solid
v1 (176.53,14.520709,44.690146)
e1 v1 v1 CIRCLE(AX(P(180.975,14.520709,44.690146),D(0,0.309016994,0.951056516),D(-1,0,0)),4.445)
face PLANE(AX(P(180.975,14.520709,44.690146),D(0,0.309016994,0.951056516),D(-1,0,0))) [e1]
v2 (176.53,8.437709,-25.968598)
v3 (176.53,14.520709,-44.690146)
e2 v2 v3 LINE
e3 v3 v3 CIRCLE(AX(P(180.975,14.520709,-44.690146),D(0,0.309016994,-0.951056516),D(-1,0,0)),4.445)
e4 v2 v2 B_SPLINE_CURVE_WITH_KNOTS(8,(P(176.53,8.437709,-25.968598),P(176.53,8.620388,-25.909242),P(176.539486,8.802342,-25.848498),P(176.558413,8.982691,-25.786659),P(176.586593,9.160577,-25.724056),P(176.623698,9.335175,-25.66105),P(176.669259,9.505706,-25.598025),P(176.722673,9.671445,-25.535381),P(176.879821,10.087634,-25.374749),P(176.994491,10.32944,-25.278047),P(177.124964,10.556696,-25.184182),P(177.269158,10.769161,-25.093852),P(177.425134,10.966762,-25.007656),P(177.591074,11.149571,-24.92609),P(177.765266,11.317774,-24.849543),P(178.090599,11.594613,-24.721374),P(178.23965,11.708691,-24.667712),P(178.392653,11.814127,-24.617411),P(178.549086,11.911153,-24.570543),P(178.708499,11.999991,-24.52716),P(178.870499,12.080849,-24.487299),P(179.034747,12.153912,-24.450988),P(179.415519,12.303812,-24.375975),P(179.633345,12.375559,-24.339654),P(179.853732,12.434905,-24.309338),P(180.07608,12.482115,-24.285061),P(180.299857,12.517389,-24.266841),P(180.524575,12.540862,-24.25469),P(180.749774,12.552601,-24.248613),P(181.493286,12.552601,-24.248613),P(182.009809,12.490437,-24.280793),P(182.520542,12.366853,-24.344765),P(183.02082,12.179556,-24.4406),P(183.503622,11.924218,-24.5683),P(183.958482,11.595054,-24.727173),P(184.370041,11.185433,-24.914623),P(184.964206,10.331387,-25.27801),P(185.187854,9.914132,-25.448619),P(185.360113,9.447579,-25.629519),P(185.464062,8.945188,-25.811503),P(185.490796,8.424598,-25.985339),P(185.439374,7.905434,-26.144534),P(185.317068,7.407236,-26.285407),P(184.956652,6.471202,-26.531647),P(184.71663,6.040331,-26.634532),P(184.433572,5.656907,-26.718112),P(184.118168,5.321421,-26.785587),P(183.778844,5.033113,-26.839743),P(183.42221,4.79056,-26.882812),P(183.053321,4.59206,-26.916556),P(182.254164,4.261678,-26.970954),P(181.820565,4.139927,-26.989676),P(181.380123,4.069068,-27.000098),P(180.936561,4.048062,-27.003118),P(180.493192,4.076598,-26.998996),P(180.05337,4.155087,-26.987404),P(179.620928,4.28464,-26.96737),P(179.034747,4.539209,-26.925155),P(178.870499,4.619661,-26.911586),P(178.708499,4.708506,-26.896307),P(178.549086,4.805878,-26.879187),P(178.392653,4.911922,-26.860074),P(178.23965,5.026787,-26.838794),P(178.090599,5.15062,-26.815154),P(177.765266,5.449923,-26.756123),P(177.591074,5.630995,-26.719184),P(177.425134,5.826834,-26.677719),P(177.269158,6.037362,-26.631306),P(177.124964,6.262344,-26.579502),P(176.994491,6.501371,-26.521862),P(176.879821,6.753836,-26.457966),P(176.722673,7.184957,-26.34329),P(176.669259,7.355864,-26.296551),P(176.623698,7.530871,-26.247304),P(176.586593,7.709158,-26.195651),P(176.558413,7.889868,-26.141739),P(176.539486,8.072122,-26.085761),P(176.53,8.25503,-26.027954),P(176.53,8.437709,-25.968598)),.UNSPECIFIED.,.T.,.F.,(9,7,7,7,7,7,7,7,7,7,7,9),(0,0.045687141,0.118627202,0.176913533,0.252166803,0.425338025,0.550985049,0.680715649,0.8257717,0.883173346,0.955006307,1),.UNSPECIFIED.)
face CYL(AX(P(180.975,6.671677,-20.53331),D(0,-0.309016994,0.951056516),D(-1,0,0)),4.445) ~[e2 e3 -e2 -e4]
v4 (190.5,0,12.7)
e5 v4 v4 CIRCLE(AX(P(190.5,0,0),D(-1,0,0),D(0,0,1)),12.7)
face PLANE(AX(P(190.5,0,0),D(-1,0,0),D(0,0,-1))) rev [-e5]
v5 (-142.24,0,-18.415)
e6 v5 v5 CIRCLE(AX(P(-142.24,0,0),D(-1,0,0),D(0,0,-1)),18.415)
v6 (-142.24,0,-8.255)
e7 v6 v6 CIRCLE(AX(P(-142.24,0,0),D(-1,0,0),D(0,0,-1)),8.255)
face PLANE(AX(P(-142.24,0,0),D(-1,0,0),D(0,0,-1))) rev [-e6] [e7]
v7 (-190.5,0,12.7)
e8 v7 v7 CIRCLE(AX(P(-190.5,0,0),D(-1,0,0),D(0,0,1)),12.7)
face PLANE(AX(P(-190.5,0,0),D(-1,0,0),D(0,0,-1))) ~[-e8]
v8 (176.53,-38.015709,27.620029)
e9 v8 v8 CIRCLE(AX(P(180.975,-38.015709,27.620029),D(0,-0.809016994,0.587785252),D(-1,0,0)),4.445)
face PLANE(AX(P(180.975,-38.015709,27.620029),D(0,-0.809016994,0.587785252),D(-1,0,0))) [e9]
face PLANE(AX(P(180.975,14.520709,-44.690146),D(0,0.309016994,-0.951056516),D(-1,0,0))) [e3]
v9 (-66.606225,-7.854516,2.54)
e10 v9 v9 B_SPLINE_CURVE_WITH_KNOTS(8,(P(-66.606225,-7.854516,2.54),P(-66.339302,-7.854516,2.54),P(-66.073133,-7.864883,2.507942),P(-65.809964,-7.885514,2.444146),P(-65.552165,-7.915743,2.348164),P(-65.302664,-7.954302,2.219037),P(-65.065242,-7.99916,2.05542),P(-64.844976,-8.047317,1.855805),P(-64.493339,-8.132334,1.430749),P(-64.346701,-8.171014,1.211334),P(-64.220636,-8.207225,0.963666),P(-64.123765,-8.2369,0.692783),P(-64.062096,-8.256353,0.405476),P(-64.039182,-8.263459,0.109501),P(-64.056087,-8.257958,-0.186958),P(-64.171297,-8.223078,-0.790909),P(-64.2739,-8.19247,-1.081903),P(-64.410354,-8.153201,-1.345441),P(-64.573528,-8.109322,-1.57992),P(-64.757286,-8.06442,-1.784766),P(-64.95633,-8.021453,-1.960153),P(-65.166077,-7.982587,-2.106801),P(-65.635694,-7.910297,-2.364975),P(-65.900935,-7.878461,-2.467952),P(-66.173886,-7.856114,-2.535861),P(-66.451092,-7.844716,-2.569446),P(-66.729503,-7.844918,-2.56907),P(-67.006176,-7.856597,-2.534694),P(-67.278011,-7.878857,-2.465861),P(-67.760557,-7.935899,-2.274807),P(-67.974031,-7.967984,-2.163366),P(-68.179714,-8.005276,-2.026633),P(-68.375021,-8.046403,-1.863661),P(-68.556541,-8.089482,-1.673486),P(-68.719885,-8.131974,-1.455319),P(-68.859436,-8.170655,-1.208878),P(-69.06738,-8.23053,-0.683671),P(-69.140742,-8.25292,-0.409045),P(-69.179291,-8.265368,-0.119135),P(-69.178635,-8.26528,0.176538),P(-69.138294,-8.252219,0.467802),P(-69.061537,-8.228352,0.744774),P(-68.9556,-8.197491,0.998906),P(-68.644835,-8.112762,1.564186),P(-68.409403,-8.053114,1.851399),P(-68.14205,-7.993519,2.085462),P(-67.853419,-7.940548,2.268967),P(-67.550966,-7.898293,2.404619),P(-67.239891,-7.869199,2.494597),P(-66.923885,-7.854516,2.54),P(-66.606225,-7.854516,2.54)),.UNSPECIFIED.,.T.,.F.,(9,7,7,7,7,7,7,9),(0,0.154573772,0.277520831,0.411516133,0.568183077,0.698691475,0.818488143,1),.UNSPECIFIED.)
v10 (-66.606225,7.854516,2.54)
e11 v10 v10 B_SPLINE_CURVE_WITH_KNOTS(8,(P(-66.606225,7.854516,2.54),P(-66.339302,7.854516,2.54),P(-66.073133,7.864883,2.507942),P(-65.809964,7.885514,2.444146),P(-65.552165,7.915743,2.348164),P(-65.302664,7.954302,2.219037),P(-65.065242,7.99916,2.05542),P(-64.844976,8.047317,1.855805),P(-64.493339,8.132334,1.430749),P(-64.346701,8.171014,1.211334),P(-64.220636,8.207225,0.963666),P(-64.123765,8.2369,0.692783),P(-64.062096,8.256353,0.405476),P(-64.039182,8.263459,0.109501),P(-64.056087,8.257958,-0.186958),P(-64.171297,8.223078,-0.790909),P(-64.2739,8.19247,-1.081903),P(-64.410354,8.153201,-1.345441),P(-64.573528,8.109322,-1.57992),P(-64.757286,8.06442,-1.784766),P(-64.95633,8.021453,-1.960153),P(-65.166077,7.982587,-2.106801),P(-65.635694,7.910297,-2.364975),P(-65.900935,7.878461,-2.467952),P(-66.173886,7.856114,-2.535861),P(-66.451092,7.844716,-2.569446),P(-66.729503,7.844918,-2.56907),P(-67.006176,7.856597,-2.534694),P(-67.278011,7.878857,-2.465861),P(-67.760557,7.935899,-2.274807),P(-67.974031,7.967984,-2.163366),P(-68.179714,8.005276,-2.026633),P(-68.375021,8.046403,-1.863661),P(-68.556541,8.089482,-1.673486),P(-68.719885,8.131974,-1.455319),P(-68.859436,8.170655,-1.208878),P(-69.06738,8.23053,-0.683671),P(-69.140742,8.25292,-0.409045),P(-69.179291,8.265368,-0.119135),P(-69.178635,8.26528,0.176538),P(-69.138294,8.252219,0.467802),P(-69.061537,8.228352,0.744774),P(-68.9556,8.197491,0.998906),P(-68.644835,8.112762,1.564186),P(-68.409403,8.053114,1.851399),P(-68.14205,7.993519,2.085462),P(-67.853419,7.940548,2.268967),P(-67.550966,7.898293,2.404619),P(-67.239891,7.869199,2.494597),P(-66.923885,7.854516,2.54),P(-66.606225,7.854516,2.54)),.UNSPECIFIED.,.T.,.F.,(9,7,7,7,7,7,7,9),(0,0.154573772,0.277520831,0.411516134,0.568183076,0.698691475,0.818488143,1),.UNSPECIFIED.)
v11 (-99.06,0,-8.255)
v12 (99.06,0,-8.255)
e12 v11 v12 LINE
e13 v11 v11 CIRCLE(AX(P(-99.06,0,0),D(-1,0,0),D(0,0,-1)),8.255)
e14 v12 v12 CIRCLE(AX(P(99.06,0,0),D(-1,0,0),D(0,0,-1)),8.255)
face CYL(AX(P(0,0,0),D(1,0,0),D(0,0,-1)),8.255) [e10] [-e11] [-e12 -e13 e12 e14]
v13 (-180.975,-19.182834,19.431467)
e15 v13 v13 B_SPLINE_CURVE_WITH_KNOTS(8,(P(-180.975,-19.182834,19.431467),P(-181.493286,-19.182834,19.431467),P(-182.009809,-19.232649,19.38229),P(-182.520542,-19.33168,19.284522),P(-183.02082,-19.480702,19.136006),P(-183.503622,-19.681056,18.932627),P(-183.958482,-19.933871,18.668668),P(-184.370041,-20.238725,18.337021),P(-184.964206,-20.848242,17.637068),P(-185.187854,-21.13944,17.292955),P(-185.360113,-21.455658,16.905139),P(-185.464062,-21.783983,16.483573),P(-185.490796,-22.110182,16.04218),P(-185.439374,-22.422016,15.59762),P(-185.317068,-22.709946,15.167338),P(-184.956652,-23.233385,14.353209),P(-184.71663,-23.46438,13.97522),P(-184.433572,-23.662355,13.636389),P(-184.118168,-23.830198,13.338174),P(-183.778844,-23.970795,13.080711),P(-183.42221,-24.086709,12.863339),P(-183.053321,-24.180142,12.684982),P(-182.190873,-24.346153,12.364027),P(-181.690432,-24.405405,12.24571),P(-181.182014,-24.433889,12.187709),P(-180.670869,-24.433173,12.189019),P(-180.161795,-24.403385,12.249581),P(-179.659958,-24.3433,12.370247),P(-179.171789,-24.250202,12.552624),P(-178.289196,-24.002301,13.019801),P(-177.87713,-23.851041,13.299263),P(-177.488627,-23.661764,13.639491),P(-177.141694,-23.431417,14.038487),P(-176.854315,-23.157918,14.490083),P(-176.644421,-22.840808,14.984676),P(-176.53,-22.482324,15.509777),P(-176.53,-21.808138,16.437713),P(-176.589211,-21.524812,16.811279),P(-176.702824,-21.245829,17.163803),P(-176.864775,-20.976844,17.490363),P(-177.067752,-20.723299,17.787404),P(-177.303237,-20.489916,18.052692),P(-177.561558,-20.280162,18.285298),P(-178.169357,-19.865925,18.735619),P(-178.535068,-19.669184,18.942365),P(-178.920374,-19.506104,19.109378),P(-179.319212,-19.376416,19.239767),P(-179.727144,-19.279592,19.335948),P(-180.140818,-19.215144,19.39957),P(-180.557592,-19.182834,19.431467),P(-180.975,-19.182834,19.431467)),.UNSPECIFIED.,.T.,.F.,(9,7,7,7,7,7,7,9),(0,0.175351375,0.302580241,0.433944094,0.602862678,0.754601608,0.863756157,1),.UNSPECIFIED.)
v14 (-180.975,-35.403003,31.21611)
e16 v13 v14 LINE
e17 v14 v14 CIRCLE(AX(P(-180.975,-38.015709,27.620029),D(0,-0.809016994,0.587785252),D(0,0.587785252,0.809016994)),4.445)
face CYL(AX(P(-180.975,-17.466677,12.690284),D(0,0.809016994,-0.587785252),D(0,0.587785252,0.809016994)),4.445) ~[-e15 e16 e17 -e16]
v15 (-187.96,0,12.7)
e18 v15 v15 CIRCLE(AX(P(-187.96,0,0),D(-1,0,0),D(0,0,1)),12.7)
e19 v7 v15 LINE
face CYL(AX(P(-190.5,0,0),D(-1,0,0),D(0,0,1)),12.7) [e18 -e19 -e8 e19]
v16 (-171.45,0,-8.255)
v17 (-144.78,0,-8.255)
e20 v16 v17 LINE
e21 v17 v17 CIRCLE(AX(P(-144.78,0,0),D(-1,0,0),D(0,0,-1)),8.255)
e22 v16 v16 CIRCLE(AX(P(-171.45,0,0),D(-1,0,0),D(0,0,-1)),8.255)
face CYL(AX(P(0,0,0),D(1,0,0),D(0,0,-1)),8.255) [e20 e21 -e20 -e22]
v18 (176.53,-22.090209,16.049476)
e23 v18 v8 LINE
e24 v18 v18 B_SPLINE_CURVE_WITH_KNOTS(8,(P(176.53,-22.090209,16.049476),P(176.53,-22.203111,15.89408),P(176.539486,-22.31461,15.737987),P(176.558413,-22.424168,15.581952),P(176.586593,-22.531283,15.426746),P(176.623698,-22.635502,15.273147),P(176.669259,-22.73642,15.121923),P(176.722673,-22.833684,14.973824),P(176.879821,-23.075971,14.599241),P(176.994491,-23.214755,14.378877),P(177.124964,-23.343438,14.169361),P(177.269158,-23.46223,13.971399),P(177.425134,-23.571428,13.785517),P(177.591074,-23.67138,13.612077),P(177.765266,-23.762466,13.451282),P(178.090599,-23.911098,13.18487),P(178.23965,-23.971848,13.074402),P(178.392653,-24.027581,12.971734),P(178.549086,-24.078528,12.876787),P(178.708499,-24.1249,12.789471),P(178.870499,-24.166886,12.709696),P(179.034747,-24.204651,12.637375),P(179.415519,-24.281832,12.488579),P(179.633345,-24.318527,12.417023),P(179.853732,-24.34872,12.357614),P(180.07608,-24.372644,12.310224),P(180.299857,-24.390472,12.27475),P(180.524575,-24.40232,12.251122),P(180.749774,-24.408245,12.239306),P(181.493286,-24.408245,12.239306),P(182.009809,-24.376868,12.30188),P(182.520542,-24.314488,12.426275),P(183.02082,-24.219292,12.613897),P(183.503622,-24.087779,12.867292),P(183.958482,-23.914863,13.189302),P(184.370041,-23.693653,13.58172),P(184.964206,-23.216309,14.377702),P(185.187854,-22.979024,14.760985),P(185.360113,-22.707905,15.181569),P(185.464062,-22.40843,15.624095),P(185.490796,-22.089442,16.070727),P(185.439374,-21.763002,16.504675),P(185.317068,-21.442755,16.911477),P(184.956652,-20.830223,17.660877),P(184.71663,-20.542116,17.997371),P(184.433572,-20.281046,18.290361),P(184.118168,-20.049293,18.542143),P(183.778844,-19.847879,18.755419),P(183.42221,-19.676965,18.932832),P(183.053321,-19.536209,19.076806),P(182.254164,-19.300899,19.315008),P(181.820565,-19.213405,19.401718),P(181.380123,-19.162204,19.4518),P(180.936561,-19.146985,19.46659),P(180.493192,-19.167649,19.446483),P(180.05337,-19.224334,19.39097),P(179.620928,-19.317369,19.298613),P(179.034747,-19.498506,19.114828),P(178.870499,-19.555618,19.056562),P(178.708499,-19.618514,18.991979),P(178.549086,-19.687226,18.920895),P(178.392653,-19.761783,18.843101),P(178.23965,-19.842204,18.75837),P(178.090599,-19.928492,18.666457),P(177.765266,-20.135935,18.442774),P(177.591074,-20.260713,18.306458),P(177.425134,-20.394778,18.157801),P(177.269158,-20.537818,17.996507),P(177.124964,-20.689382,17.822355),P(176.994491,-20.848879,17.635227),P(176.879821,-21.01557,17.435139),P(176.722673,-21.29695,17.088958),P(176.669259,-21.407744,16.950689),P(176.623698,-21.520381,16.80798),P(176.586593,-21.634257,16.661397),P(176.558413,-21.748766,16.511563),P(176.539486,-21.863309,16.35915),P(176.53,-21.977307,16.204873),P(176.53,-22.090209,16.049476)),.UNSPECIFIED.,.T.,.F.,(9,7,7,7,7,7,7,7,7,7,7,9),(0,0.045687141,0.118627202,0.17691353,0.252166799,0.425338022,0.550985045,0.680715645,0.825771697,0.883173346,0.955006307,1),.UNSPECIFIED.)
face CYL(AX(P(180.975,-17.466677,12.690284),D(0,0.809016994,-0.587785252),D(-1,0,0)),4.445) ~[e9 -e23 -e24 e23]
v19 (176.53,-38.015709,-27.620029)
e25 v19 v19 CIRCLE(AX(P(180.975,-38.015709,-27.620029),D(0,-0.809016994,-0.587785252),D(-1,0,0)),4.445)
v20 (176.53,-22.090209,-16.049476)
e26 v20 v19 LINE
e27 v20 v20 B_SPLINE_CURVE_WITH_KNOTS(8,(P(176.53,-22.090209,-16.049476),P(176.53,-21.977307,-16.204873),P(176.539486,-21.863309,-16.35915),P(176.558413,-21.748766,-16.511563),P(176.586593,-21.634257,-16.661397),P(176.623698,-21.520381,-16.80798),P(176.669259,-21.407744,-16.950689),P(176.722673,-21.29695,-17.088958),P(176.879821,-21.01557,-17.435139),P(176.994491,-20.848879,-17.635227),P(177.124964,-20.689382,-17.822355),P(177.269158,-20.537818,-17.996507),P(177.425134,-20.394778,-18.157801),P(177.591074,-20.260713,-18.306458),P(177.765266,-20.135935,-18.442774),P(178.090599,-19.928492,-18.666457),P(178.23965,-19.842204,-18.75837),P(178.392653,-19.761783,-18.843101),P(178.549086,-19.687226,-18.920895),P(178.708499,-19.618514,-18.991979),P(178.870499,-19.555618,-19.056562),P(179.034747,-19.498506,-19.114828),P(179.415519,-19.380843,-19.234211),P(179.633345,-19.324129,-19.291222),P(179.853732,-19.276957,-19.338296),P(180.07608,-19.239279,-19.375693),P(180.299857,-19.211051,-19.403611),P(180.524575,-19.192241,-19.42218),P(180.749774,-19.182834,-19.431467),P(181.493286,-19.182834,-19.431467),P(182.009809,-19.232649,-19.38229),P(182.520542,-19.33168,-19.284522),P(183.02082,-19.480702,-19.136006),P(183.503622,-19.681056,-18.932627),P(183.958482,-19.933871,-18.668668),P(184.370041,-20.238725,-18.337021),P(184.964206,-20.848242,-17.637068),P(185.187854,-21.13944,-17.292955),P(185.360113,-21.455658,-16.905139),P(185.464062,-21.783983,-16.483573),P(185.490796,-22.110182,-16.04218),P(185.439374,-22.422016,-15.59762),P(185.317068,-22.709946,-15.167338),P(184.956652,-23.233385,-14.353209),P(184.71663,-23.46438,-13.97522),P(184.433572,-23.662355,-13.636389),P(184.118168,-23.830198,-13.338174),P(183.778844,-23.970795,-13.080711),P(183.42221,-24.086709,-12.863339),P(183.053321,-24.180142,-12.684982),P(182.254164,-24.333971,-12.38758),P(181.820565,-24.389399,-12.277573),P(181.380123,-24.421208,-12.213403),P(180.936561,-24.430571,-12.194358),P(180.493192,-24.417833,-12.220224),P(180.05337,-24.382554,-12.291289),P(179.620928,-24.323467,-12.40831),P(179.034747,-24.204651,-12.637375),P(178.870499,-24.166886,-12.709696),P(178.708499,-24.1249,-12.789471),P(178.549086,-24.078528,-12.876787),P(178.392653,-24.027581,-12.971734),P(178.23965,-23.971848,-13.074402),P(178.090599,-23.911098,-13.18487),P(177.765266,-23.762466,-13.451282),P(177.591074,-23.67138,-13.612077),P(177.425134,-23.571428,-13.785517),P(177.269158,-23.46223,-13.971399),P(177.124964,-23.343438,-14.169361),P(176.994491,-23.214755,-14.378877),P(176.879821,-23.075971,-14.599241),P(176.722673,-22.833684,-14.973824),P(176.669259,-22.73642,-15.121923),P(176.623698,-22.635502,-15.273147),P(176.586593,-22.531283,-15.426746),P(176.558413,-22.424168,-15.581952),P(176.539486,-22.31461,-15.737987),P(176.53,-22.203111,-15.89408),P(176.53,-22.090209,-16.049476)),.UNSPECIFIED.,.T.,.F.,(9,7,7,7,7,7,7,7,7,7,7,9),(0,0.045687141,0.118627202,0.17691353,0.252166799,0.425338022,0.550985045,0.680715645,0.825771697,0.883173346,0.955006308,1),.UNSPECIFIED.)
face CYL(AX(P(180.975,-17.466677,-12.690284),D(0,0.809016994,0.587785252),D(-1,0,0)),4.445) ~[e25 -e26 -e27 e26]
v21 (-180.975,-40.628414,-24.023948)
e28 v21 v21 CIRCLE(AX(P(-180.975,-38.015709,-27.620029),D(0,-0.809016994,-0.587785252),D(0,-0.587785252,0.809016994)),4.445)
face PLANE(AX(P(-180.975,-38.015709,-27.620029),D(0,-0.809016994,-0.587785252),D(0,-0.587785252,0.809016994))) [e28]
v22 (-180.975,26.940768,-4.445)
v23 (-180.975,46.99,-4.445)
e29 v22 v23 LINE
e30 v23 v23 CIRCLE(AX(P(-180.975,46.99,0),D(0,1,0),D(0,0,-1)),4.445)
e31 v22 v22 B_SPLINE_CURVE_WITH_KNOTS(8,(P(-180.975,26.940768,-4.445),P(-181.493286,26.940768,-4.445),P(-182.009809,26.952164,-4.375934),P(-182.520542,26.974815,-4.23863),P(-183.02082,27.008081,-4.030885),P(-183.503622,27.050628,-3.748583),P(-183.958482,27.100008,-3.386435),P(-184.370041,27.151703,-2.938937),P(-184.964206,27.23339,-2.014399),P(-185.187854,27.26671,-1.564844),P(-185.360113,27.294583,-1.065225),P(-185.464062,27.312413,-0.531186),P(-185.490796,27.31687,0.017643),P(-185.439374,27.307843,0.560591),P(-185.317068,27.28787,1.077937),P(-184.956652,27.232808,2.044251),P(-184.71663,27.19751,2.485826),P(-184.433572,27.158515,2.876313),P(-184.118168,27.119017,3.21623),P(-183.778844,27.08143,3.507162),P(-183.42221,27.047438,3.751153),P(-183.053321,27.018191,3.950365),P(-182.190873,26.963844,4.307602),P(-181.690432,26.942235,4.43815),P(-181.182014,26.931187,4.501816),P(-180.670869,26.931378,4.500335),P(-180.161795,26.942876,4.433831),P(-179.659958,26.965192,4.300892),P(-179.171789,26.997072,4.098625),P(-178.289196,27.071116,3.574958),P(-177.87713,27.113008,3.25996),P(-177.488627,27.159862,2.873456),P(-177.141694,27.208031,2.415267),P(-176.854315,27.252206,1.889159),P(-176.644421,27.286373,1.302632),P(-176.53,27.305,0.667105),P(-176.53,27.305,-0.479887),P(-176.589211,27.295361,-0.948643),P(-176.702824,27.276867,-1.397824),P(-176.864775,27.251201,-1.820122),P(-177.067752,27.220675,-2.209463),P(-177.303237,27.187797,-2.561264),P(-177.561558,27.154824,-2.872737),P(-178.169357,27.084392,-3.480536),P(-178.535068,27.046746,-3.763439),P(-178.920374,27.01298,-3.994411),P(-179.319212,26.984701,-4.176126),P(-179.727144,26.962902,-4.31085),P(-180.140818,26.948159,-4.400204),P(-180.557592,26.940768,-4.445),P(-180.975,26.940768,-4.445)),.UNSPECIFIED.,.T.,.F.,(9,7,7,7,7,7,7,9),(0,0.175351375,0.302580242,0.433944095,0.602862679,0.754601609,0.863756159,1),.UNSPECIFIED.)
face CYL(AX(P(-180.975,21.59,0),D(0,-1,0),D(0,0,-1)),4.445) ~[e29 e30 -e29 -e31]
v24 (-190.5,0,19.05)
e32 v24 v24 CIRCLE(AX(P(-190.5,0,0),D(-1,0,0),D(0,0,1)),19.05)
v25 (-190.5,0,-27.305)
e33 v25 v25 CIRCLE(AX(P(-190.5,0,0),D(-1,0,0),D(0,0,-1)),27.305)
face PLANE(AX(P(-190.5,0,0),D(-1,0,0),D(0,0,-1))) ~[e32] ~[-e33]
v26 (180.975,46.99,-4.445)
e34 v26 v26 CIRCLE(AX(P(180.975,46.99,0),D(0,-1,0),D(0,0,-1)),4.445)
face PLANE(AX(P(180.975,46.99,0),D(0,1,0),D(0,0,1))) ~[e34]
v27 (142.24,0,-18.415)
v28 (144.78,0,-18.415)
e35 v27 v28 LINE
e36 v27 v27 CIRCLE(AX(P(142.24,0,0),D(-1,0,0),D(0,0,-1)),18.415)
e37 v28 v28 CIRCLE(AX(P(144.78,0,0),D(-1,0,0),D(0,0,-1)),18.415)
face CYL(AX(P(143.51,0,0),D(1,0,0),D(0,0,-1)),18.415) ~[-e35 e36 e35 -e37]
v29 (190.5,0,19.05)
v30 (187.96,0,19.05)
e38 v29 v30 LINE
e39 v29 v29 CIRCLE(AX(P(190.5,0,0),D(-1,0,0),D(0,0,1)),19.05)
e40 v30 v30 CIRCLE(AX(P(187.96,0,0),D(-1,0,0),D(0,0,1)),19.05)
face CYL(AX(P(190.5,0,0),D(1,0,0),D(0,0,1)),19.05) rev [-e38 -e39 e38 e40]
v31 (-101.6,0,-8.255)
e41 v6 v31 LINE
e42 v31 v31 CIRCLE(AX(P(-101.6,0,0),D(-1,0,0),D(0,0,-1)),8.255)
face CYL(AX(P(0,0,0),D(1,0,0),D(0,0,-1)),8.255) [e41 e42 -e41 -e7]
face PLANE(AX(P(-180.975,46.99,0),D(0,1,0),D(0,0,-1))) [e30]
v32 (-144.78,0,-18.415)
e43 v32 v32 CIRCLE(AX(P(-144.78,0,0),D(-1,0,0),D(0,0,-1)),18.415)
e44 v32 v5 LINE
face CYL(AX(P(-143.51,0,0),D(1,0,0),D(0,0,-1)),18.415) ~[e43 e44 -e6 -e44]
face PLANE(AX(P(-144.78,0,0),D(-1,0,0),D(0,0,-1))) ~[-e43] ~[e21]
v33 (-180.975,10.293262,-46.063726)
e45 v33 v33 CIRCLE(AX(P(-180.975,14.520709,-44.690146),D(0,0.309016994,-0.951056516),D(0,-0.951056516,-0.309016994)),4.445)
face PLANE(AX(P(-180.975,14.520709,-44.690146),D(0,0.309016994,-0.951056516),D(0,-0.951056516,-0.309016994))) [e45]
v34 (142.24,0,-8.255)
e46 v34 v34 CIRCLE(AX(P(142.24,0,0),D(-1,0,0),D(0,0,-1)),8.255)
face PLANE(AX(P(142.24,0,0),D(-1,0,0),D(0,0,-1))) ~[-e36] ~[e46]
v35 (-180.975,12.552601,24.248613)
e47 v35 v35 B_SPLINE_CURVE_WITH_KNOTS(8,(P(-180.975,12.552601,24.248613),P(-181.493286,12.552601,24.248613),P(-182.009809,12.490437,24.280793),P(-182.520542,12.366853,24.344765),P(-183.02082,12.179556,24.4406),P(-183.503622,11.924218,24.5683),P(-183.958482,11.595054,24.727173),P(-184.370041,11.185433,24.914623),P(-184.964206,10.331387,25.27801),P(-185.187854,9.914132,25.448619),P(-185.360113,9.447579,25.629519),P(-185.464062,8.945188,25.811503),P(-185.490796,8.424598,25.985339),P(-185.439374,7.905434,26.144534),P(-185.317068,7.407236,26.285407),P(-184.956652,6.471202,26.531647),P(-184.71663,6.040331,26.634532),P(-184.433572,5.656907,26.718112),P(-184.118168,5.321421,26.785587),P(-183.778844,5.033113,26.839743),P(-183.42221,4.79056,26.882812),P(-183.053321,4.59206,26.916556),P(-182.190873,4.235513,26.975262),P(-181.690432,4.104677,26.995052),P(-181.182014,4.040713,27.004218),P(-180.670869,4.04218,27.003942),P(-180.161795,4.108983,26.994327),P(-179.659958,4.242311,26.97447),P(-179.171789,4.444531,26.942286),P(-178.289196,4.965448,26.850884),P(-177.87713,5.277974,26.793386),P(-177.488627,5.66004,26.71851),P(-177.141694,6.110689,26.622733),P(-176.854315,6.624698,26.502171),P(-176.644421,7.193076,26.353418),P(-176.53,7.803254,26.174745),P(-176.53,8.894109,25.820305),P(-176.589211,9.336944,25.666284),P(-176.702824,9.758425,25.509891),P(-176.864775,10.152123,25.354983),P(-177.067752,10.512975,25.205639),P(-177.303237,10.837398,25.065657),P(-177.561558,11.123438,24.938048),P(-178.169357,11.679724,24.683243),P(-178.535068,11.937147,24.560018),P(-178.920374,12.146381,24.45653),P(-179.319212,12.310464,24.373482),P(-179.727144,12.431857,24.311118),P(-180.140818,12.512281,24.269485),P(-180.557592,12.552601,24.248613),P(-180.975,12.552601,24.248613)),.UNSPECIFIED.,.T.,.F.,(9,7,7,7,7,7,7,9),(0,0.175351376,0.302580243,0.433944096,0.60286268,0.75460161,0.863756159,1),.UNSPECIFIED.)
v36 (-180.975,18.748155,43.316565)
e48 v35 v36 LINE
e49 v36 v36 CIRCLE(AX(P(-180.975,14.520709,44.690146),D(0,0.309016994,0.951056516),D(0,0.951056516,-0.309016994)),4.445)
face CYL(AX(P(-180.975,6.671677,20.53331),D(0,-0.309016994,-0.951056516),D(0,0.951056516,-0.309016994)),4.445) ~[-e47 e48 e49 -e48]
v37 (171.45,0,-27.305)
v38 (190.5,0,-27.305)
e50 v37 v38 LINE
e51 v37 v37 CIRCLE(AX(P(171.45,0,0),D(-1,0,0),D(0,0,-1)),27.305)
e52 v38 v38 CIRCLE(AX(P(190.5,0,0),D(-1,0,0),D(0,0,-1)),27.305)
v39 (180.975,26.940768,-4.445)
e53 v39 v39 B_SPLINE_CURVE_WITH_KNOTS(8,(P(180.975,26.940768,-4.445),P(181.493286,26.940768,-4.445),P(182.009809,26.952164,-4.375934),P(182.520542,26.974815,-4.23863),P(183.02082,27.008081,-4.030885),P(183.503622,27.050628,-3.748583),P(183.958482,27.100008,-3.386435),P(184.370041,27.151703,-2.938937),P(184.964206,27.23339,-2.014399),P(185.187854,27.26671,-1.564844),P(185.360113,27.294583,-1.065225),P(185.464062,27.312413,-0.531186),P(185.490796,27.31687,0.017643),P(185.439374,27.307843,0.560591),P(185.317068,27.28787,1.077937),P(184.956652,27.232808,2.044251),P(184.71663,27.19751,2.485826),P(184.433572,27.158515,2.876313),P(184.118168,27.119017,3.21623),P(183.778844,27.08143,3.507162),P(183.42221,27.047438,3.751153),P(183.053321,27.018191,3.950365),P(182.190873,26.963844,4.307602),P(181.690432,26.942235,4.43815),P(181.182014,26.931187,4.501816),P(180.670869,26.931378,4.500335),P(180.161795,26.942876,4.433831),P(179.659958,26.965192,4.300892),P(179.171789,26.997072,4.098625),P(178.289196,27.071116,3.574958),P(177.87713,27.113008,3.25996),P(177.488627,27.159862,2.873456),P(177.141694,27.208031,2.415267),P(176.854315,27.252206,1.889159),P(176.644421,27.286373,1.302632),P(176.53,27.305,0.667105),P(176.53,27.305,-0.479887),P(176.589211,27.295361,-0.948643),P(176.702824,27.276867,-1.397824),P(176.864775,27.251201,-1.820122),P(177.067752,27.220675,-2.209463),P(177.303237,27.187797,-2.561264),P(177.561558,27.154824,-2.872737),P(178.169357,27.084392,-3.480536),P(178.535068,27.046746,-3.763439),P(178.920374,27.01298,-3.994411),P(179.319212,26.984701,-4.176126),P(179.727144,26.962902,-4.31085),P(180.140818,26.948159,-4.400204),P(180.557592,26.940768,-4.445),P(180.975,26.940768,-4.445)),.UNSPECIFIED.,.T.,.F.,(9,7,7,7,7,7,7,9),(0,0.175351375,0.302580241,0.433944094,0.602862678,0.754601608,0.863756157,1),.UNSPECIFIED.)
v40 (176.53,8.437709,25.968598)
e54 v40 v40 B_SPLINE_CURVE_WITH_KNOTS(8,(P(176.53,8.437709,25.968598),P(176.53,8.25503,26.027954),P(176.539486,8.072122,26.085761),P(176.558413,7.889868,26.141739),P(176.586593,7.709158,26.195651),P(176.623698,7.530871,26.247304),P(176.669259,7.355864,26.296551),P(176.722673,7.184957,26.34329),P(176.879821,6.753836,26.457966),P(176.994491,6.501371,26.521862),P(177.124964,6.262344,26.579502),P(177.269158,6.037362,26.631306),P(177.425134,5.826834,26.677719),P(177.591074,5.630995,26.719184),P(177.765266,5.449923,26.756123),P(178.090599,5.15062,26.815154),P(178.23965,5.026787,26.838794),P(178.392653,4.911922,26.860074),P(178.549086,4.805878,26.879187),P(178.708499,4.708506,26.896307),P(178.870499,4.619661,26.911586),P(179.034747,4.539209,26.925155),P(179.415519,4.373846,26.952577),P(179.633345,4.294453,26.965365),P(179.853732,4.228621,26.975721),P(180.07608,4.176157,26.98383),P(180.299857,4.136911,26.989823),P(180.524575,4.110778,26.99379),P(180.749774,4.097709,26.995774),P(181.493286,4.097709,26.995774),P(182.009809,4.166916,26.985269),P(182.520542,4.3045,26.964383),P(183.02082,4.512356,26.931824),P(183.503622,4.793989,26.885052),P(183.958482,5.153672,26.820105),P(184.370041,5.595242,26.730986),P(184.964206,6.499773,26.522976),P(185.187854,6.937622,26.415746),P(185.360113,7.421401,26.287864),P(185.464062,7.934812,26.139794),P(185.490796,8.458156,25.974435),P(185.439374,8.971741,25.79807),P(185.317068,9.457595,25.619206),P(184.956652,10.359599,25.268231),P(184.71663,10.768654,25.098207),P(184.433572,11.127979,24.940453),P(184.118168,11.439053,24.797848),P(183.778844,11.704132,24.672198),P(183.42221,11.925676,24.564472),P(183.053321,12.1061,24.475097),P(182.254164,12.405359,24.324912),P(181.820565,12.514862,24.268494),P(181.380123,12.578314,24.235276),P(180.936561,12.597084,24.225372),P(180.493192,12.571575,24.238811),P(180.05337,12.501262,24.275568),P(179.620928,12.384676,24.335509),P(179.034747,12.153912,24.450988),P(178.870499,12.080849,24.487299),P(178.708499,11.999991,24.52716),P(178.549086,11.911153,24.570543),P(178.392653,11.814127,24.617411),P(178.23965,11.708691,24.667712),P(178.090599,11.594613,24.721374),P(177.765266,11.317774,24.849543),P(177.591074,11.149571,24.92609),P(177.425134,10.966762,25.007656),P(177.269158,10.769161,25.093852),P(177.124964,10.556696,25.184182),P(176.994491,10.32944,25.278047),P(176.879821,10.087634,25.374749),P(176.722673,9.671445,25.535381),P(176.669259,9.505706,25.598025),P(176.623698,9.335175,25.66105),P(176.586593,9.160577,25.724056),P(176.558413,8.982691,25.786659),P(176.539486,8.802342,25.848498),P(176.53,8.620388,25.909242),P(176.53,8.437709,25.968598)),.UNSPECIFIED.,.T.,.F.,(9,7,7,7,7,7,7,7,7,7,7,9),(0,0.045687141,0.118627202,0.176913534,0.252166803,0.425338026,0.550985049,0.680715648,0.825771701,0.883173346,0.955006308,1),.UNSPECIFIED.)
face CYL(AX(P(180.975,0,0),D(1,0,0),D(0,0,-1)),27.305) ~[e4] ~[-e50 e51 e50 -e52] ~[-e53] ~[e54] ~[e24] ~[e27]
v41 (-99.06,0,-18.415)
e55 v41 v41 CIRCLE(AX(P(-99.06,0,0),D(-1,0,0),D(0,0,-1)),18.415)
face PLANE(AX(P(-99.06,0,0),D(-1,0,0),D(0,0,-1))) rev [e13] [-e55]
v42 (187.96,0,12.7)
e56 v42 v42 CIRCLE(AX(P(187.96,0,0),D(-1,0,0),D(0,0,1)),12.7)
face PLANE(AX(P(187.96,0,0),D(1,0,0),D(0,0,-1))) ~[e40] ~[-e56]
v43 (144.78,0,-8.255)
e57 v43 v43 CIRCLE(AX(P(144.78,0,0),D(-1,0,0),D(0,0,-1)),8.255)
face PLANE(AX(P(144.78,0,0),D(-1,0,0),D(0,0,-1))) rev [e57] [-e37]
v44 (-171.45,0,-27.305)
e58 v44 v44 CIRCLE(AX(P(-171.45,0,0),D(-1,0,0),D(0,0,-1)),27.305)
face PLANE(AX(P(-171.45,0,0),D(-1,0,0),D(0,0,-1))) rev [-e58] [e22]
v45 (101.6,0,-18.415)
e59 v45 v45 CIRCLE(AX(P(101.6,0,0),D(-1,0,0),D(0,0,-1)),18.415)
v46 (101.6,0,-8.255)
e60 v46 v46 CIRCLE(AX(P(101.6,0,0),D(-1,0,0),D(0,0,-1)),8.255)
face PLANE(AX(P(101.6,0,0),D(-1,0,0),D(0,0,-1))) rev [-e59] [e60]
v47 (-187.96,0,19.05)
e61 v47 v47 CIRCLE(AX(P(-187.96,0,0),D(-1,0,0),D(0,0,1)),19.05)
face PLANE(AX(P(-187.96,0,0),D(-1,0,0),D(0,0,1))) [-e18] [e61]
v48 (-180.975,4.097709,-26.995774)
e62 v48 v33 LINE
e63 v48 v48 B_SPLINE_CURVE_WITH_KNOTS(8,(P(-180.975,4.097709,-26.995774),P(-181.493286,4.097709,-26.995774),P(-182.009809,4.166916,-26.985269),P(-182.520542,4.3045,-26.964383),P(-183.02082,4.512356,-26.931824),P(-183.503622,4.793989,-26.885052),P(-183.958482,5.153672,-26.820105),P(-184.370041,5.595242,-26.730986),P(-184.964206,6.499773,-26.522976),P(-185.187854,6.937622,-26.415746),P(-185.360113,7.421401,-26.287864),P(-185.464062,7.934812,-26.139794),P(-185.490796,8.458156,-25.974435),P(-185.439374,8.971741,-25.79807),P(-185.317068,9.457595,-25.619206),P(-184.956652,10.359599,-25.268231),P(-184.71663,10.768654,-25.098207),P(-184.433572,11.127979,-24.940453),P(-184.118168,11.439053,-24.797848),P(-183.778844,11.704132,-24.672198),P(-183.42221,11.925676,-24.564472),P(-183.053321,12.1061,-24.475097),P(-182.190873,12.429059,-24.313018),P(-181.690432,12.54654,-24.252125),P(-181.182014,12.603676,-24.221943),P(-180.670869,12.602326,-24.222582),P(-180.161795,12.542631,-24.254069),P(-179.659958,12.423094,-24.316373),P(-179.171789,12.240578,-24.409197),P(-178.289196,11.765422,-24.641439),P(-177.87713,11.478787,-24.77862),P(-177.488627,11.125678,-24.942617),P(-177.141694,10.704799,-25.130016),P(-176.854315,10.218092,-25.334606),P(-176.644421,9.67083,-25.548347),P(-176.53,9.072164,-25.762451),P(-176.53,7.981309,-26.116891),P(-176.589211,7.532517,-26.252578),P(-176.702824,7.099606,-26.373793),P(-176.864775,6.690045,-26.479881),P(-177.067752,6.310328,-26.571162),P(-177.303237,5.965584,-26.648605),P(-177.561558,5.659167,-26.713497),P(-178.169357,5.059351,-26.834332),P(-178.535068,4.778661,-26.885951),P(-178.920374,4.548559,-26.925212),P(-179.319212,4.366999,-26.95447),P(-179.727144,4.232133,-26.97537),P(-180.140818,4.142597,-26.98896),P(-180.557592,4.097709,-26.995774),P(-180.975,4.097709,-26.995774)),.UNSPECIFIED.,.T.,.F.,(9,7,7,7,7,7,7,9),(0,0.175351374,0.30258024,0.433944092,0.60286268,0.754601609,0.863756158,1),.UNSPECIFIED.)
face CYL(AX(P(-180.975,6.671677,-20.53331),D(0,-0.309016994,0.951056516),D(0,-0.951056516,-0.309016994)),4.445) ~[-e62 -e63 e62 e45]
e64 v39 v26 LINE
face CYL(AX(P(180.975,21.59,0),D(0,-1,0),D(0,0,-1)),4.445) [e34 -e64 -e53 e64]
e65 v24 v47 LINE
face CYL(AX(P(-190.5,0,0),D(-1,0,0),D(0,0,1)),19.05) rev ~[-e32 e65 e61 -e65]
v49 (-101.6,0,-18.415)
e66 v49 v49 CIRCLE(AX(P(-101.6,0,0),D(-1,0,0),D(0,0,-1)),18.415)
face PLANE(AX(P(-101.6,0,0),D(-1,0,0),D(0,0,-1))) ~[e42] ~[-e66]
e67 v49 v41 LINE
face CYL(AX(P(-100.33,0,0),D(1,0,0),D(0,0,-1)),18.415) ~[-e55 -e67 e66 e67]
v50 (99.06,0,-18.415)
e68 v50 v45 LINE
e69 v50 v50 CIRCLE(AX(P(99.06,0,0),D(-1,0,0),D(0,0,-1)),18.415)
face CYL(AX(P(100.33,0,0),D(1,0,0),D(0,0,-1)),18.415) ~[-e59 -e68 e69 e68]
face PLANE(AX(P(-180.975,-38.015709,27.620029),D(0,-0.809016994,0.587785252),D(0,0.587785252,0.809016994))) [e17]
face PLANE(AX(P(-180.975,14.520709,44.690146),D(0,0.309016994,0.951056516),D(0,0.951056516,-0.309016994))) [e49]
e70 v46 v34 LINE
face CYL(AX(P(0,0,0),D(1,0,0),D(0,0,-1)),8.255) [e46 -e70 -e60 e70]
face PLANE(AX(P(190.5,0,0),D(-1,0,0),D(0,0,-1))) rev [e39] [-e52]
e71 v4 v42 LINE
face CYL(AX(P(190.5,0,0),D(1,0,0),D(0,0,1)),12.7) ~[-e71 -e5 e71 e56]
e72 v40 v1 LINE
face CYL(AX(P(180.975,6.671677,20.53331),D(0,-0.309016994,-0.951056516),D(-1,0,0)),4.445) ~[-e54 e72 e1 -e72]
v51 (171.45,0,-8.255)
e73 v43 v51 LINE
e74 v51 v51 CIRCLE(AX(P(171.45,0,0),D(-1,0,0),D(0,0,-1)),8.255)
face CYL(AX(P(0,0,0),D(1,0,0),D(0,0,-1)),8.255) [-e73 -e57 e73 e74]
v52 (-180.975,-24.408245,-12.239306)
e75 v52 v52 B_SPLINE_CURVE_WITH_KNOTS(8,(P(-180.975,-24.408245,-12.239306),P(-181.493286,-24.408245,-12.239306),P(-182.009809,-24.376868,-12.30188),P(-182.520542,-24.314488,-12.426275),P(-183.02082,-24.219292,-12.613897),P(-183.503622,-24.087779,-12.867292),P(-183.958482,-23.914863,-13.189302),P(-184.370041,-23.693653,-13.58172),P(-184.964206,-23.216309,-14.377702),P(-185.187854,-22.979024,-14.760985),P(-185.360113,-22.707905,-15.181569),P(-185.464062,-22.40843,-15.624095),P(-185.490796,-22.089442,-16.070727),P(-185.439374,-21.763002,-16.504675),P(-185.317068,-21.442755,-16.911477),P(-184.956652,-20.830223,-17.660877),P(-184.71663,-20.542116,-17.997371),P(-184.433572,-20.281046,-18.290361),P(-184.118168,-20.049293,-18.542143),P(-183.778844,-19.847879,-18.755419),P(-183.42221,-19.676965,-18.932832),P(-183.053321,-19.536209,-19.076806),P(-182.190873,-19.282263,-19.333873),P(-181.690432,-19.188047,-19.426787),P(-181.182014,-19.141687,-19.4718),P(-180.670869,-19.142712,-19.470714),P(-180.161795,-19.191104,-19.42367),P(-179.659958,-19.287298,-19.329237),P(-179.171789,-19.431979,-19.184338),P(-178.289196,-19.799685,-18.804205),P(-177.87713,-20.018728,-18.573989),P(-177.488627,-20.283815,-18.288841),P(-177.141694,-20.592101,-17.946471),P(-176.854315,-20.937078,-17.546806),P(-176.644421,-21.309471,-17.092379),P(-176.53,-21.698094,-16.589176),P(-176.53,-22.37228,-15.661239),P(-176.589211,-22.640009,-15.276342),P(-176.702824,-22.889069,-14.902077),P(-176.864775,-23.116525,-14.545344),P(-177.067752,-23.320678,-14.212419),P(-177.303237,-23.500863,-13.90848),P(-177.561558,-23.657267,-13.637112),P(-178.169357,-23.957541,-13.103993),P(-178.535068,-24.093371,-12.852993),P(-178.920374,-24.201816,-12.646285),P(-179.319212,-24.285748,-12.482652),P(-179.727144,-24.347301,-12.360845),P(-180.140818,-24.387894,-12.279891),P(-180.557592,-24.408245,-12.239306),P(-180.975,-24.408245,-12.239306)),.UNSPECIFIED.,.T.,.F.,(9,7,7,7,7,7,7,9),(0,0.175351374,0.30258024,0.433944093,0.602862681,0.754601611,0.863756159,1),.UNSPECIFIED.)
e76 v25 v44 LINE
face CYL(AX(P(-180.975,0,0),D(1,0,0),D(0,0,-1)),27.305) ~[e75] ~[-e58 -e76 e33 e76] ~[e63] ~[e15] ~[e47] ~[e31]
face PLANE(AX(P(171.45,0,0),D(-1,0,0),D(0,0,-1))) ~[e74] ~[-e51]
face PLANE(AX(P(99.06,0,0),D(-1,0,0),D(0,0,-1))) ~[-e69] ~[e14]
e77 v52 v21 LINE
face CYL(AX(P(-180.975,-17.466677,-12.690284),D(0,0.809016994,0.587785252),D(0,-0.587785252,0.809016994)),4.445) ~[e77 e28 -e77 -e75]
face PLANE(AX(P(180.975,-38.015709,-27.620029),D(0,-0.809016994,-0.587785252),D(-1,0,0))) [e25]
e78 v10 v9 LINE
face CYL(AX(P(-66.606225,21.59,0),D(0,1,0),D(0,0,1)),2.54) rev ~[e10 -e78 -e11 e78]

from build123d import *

# Parameters (mm, degrees)
SKETCH2_R               = 8.255
BOSS_EXTRUDE1_DEPTH     = 190.5
SKETCH3_W               = 19.05
SKETCH3_H               = 19.05
SKETCH3_W_2             = 2.54
SKETCH3_H_2             = 10.16
SKETCH6_R               = 19.05
SKETCH6_R_2             = 12.7
CUT_EXTRUDE1_DEPTH      = 2.54
SKETCH5_R               = 4.445
BOSS_EXTRUDE3_DEPTH     = 25.4
CIRPATTERN2_COUNT       = 5
MIRROR3_COPY_1_SKETCH_R = 4.445
MIRROR3_COPY_1_DEPTH    = 25.4
MIRROR3_COPY_2_SKETCH_R = 4.445
MIRROR3_COPY_2_DEPTH    = 25.4
MIRROR3_COPY_3_SKETCH_R = 4.445
MIRROR3_COPY_3_DEPTH    = 25.4
MIRROR3_COPY_4_SKETCH_R = 4.445
MIRROR3_COPY_4_DEPTH    = 25.4
SKETCH7_R               = 2.54
CUT_EXTRUDE2_DEPTH      = 206.628908418


with BuildPart() as part:
    # Sketch2 → Boss-Extrude1 (new, symmetric)
    with BuildSketch(Plane(origin=(0, 0, 0), x_dir=(0, 0, -1), z_dir=(1, 0, 0))):
        Circle(SKETCH2_R)
    extrude(amount=BOSS_EXTRUDE1_DEPTH, both=True)

    # Sketch3 → Revolve1 (revolve)
    with BuildSketch(Plane.XY, mode=Mode.PRIVATE) as revolve1_sk:
        with Locations((180.975, 17.78)):
            Rectangle(SKETCH3_W, SKETCH3_H)
        with Locations((100.33, 13.335)):
            Rectangle(SKETCH3_W_2, SKETCH3_H_2)
        with Locations((143.51, 13.335)):
            Rectangle(SKETCH3_W_2, SKETCH3_H_2)
        with Locations((-100.33, 13.335)):
            Rectangle(SKETCH3_W_2, SKETCH3_H_2)
        with Locations((-143.51, 13.335)):
            Rectangle(SKETCH3_W_2, SKETCH3_H_2)
        with Locations((-180.975, 17.78)):
            Rectangle(SKETCH3_W, SKETCH3_H)
    revolve(revolve1_sk.sketch.rotate(Axis((190.5, 0, 0), (-1, 0, 0)), 90), axis=Axis((190.5, 0, 0), (-1, 0, 0)))

    # Sketch6 → Cut-Extrude1 (cut)
    with BuildSketch(Plane.ZY.offset(190.5)):
        Circle(SKETCH6_R)
        Circle(SKETCH6_R_2, mode=Mode.SUBTRACT)
    cut_extrude1 = extrude(amount=-CUT_EXTRUDE1_DEPTH, mode=Mode.SUBTRACT)

    # Mirror2: Cut-Extrude1 across plane
    add(cut_extrude1.mirror(Plane(origin=(0, 0, 0), x_dir=(0, 0, 1), z_dir=(1, 0, 0))), mode=Mode.SUBTRACT)

    # Sketch5 → Boss-Extrude3 (add)
    with BuildSketch(Plane(origin=(0, 21.59, 0), x_dir=(1, 0, 0), z_dir=(0, 1, 0))):
        with Locations(Location((-180.975, 0, 0), (0, 0, 90))):
            Circle(SKETCH5_R)
    boss_extrude3 = extrude(amount=BOSS_EXTRUDE3_DEPTH)

    # CirPattern2: Boss-Extrude3 ×5 about axis
    cirpattern2_axis = Axis((0, 0, 0), (1, 0, 0))
    for i in range(1, CIRPATTERN2_COUNT):
        add(boss_extrude3.rotate(cirpattern2_axis, i * 360 / CIRPATTERN2_COUNT))

    # Mirror3: Boss-Extrude3 across plane
    add(boss_extrude3.mirror(Plane(origin=(0, 0, 0), x_dir=(0, 0, 1), z_dir=(1, 0, 0))))

    # Mirror3 copy 1 sketch → Mirror3 copy 1 (add)
    with BuildSketch(Plane(origin=(0, 6.671676909, 20.533310187), x_dir=(-1, 0, 0), z_dir=(0, 0.30901699437494745, 0.9510565162951535))):
        with Locations((-180.975, 0)):
            Circle(MIRROR3_COPY_1_SKETCH_R)
    extrude(amount=MIRROR3_COPY_1_DEPTH)

    # Mirror3 copy 2 sketch → Mirror3 copy 2 (add)
    with BuildSketch(Plane(origin=(0, -17.466676909, 12.690283597), x_dir=(-1, 0, 0), z_dir=(0, -0.8090169943749473, 0.5877852522924732))):
        with Locations((-180.975, 0)):
            Circle(MIRROR3_COPY_2_SKETCH_R)
    extrude(amount=MIRROR3_COPY_2_DEPTH)

    # Mirror3 copy 3 sketch → Mirror3 copy 3 (add)
    with BuildSketch(Plane(origin=(0, -17.466676909, -12.690283597), x_dir=(-1, 0, 0), z_dir=(0, -0.8090169943749476, -0.587785252292473))):
        with Locations((-180.975, 0)):
            Circle(MIRROR3_COPY_3_SKETCH_R)
    extrude(amount=MIRROR3_COPY_3_DEPTH)

    # Mirror3 copy 4 sketch → Mirror3 copy 4 (add)
    with BuildSketch(Plane(origin=(0, 6.671676909, -20.533310187), x_dir=(-1, 0, 0), z_dir=(0, 0.30901699437494723, -0.9510565162951536))):
        with Locations((-180.975, 0)):
            Circle(MIRROR3_COPY_4_SKETCH_R)
    extrude(amount=MIRROR3_COPY_4_DEPTH)

    # Sketch7 → Cut-Extrude2 (cut, through all)
    with BuildSketch(Plane(origin=(0, 21.59, 0), x_dir=(1, 0, 0), z_dir=(0, 1, 0))):
        with Locations(Location((-66.606224815, 0, 0), (0, 0, 270))):
            Circle(SKETCH7_R)
    extrude(amount=-CUT_EXTRUDE2_DEPTH, mode=Mode.SUBTRACT)


solid = part.part
